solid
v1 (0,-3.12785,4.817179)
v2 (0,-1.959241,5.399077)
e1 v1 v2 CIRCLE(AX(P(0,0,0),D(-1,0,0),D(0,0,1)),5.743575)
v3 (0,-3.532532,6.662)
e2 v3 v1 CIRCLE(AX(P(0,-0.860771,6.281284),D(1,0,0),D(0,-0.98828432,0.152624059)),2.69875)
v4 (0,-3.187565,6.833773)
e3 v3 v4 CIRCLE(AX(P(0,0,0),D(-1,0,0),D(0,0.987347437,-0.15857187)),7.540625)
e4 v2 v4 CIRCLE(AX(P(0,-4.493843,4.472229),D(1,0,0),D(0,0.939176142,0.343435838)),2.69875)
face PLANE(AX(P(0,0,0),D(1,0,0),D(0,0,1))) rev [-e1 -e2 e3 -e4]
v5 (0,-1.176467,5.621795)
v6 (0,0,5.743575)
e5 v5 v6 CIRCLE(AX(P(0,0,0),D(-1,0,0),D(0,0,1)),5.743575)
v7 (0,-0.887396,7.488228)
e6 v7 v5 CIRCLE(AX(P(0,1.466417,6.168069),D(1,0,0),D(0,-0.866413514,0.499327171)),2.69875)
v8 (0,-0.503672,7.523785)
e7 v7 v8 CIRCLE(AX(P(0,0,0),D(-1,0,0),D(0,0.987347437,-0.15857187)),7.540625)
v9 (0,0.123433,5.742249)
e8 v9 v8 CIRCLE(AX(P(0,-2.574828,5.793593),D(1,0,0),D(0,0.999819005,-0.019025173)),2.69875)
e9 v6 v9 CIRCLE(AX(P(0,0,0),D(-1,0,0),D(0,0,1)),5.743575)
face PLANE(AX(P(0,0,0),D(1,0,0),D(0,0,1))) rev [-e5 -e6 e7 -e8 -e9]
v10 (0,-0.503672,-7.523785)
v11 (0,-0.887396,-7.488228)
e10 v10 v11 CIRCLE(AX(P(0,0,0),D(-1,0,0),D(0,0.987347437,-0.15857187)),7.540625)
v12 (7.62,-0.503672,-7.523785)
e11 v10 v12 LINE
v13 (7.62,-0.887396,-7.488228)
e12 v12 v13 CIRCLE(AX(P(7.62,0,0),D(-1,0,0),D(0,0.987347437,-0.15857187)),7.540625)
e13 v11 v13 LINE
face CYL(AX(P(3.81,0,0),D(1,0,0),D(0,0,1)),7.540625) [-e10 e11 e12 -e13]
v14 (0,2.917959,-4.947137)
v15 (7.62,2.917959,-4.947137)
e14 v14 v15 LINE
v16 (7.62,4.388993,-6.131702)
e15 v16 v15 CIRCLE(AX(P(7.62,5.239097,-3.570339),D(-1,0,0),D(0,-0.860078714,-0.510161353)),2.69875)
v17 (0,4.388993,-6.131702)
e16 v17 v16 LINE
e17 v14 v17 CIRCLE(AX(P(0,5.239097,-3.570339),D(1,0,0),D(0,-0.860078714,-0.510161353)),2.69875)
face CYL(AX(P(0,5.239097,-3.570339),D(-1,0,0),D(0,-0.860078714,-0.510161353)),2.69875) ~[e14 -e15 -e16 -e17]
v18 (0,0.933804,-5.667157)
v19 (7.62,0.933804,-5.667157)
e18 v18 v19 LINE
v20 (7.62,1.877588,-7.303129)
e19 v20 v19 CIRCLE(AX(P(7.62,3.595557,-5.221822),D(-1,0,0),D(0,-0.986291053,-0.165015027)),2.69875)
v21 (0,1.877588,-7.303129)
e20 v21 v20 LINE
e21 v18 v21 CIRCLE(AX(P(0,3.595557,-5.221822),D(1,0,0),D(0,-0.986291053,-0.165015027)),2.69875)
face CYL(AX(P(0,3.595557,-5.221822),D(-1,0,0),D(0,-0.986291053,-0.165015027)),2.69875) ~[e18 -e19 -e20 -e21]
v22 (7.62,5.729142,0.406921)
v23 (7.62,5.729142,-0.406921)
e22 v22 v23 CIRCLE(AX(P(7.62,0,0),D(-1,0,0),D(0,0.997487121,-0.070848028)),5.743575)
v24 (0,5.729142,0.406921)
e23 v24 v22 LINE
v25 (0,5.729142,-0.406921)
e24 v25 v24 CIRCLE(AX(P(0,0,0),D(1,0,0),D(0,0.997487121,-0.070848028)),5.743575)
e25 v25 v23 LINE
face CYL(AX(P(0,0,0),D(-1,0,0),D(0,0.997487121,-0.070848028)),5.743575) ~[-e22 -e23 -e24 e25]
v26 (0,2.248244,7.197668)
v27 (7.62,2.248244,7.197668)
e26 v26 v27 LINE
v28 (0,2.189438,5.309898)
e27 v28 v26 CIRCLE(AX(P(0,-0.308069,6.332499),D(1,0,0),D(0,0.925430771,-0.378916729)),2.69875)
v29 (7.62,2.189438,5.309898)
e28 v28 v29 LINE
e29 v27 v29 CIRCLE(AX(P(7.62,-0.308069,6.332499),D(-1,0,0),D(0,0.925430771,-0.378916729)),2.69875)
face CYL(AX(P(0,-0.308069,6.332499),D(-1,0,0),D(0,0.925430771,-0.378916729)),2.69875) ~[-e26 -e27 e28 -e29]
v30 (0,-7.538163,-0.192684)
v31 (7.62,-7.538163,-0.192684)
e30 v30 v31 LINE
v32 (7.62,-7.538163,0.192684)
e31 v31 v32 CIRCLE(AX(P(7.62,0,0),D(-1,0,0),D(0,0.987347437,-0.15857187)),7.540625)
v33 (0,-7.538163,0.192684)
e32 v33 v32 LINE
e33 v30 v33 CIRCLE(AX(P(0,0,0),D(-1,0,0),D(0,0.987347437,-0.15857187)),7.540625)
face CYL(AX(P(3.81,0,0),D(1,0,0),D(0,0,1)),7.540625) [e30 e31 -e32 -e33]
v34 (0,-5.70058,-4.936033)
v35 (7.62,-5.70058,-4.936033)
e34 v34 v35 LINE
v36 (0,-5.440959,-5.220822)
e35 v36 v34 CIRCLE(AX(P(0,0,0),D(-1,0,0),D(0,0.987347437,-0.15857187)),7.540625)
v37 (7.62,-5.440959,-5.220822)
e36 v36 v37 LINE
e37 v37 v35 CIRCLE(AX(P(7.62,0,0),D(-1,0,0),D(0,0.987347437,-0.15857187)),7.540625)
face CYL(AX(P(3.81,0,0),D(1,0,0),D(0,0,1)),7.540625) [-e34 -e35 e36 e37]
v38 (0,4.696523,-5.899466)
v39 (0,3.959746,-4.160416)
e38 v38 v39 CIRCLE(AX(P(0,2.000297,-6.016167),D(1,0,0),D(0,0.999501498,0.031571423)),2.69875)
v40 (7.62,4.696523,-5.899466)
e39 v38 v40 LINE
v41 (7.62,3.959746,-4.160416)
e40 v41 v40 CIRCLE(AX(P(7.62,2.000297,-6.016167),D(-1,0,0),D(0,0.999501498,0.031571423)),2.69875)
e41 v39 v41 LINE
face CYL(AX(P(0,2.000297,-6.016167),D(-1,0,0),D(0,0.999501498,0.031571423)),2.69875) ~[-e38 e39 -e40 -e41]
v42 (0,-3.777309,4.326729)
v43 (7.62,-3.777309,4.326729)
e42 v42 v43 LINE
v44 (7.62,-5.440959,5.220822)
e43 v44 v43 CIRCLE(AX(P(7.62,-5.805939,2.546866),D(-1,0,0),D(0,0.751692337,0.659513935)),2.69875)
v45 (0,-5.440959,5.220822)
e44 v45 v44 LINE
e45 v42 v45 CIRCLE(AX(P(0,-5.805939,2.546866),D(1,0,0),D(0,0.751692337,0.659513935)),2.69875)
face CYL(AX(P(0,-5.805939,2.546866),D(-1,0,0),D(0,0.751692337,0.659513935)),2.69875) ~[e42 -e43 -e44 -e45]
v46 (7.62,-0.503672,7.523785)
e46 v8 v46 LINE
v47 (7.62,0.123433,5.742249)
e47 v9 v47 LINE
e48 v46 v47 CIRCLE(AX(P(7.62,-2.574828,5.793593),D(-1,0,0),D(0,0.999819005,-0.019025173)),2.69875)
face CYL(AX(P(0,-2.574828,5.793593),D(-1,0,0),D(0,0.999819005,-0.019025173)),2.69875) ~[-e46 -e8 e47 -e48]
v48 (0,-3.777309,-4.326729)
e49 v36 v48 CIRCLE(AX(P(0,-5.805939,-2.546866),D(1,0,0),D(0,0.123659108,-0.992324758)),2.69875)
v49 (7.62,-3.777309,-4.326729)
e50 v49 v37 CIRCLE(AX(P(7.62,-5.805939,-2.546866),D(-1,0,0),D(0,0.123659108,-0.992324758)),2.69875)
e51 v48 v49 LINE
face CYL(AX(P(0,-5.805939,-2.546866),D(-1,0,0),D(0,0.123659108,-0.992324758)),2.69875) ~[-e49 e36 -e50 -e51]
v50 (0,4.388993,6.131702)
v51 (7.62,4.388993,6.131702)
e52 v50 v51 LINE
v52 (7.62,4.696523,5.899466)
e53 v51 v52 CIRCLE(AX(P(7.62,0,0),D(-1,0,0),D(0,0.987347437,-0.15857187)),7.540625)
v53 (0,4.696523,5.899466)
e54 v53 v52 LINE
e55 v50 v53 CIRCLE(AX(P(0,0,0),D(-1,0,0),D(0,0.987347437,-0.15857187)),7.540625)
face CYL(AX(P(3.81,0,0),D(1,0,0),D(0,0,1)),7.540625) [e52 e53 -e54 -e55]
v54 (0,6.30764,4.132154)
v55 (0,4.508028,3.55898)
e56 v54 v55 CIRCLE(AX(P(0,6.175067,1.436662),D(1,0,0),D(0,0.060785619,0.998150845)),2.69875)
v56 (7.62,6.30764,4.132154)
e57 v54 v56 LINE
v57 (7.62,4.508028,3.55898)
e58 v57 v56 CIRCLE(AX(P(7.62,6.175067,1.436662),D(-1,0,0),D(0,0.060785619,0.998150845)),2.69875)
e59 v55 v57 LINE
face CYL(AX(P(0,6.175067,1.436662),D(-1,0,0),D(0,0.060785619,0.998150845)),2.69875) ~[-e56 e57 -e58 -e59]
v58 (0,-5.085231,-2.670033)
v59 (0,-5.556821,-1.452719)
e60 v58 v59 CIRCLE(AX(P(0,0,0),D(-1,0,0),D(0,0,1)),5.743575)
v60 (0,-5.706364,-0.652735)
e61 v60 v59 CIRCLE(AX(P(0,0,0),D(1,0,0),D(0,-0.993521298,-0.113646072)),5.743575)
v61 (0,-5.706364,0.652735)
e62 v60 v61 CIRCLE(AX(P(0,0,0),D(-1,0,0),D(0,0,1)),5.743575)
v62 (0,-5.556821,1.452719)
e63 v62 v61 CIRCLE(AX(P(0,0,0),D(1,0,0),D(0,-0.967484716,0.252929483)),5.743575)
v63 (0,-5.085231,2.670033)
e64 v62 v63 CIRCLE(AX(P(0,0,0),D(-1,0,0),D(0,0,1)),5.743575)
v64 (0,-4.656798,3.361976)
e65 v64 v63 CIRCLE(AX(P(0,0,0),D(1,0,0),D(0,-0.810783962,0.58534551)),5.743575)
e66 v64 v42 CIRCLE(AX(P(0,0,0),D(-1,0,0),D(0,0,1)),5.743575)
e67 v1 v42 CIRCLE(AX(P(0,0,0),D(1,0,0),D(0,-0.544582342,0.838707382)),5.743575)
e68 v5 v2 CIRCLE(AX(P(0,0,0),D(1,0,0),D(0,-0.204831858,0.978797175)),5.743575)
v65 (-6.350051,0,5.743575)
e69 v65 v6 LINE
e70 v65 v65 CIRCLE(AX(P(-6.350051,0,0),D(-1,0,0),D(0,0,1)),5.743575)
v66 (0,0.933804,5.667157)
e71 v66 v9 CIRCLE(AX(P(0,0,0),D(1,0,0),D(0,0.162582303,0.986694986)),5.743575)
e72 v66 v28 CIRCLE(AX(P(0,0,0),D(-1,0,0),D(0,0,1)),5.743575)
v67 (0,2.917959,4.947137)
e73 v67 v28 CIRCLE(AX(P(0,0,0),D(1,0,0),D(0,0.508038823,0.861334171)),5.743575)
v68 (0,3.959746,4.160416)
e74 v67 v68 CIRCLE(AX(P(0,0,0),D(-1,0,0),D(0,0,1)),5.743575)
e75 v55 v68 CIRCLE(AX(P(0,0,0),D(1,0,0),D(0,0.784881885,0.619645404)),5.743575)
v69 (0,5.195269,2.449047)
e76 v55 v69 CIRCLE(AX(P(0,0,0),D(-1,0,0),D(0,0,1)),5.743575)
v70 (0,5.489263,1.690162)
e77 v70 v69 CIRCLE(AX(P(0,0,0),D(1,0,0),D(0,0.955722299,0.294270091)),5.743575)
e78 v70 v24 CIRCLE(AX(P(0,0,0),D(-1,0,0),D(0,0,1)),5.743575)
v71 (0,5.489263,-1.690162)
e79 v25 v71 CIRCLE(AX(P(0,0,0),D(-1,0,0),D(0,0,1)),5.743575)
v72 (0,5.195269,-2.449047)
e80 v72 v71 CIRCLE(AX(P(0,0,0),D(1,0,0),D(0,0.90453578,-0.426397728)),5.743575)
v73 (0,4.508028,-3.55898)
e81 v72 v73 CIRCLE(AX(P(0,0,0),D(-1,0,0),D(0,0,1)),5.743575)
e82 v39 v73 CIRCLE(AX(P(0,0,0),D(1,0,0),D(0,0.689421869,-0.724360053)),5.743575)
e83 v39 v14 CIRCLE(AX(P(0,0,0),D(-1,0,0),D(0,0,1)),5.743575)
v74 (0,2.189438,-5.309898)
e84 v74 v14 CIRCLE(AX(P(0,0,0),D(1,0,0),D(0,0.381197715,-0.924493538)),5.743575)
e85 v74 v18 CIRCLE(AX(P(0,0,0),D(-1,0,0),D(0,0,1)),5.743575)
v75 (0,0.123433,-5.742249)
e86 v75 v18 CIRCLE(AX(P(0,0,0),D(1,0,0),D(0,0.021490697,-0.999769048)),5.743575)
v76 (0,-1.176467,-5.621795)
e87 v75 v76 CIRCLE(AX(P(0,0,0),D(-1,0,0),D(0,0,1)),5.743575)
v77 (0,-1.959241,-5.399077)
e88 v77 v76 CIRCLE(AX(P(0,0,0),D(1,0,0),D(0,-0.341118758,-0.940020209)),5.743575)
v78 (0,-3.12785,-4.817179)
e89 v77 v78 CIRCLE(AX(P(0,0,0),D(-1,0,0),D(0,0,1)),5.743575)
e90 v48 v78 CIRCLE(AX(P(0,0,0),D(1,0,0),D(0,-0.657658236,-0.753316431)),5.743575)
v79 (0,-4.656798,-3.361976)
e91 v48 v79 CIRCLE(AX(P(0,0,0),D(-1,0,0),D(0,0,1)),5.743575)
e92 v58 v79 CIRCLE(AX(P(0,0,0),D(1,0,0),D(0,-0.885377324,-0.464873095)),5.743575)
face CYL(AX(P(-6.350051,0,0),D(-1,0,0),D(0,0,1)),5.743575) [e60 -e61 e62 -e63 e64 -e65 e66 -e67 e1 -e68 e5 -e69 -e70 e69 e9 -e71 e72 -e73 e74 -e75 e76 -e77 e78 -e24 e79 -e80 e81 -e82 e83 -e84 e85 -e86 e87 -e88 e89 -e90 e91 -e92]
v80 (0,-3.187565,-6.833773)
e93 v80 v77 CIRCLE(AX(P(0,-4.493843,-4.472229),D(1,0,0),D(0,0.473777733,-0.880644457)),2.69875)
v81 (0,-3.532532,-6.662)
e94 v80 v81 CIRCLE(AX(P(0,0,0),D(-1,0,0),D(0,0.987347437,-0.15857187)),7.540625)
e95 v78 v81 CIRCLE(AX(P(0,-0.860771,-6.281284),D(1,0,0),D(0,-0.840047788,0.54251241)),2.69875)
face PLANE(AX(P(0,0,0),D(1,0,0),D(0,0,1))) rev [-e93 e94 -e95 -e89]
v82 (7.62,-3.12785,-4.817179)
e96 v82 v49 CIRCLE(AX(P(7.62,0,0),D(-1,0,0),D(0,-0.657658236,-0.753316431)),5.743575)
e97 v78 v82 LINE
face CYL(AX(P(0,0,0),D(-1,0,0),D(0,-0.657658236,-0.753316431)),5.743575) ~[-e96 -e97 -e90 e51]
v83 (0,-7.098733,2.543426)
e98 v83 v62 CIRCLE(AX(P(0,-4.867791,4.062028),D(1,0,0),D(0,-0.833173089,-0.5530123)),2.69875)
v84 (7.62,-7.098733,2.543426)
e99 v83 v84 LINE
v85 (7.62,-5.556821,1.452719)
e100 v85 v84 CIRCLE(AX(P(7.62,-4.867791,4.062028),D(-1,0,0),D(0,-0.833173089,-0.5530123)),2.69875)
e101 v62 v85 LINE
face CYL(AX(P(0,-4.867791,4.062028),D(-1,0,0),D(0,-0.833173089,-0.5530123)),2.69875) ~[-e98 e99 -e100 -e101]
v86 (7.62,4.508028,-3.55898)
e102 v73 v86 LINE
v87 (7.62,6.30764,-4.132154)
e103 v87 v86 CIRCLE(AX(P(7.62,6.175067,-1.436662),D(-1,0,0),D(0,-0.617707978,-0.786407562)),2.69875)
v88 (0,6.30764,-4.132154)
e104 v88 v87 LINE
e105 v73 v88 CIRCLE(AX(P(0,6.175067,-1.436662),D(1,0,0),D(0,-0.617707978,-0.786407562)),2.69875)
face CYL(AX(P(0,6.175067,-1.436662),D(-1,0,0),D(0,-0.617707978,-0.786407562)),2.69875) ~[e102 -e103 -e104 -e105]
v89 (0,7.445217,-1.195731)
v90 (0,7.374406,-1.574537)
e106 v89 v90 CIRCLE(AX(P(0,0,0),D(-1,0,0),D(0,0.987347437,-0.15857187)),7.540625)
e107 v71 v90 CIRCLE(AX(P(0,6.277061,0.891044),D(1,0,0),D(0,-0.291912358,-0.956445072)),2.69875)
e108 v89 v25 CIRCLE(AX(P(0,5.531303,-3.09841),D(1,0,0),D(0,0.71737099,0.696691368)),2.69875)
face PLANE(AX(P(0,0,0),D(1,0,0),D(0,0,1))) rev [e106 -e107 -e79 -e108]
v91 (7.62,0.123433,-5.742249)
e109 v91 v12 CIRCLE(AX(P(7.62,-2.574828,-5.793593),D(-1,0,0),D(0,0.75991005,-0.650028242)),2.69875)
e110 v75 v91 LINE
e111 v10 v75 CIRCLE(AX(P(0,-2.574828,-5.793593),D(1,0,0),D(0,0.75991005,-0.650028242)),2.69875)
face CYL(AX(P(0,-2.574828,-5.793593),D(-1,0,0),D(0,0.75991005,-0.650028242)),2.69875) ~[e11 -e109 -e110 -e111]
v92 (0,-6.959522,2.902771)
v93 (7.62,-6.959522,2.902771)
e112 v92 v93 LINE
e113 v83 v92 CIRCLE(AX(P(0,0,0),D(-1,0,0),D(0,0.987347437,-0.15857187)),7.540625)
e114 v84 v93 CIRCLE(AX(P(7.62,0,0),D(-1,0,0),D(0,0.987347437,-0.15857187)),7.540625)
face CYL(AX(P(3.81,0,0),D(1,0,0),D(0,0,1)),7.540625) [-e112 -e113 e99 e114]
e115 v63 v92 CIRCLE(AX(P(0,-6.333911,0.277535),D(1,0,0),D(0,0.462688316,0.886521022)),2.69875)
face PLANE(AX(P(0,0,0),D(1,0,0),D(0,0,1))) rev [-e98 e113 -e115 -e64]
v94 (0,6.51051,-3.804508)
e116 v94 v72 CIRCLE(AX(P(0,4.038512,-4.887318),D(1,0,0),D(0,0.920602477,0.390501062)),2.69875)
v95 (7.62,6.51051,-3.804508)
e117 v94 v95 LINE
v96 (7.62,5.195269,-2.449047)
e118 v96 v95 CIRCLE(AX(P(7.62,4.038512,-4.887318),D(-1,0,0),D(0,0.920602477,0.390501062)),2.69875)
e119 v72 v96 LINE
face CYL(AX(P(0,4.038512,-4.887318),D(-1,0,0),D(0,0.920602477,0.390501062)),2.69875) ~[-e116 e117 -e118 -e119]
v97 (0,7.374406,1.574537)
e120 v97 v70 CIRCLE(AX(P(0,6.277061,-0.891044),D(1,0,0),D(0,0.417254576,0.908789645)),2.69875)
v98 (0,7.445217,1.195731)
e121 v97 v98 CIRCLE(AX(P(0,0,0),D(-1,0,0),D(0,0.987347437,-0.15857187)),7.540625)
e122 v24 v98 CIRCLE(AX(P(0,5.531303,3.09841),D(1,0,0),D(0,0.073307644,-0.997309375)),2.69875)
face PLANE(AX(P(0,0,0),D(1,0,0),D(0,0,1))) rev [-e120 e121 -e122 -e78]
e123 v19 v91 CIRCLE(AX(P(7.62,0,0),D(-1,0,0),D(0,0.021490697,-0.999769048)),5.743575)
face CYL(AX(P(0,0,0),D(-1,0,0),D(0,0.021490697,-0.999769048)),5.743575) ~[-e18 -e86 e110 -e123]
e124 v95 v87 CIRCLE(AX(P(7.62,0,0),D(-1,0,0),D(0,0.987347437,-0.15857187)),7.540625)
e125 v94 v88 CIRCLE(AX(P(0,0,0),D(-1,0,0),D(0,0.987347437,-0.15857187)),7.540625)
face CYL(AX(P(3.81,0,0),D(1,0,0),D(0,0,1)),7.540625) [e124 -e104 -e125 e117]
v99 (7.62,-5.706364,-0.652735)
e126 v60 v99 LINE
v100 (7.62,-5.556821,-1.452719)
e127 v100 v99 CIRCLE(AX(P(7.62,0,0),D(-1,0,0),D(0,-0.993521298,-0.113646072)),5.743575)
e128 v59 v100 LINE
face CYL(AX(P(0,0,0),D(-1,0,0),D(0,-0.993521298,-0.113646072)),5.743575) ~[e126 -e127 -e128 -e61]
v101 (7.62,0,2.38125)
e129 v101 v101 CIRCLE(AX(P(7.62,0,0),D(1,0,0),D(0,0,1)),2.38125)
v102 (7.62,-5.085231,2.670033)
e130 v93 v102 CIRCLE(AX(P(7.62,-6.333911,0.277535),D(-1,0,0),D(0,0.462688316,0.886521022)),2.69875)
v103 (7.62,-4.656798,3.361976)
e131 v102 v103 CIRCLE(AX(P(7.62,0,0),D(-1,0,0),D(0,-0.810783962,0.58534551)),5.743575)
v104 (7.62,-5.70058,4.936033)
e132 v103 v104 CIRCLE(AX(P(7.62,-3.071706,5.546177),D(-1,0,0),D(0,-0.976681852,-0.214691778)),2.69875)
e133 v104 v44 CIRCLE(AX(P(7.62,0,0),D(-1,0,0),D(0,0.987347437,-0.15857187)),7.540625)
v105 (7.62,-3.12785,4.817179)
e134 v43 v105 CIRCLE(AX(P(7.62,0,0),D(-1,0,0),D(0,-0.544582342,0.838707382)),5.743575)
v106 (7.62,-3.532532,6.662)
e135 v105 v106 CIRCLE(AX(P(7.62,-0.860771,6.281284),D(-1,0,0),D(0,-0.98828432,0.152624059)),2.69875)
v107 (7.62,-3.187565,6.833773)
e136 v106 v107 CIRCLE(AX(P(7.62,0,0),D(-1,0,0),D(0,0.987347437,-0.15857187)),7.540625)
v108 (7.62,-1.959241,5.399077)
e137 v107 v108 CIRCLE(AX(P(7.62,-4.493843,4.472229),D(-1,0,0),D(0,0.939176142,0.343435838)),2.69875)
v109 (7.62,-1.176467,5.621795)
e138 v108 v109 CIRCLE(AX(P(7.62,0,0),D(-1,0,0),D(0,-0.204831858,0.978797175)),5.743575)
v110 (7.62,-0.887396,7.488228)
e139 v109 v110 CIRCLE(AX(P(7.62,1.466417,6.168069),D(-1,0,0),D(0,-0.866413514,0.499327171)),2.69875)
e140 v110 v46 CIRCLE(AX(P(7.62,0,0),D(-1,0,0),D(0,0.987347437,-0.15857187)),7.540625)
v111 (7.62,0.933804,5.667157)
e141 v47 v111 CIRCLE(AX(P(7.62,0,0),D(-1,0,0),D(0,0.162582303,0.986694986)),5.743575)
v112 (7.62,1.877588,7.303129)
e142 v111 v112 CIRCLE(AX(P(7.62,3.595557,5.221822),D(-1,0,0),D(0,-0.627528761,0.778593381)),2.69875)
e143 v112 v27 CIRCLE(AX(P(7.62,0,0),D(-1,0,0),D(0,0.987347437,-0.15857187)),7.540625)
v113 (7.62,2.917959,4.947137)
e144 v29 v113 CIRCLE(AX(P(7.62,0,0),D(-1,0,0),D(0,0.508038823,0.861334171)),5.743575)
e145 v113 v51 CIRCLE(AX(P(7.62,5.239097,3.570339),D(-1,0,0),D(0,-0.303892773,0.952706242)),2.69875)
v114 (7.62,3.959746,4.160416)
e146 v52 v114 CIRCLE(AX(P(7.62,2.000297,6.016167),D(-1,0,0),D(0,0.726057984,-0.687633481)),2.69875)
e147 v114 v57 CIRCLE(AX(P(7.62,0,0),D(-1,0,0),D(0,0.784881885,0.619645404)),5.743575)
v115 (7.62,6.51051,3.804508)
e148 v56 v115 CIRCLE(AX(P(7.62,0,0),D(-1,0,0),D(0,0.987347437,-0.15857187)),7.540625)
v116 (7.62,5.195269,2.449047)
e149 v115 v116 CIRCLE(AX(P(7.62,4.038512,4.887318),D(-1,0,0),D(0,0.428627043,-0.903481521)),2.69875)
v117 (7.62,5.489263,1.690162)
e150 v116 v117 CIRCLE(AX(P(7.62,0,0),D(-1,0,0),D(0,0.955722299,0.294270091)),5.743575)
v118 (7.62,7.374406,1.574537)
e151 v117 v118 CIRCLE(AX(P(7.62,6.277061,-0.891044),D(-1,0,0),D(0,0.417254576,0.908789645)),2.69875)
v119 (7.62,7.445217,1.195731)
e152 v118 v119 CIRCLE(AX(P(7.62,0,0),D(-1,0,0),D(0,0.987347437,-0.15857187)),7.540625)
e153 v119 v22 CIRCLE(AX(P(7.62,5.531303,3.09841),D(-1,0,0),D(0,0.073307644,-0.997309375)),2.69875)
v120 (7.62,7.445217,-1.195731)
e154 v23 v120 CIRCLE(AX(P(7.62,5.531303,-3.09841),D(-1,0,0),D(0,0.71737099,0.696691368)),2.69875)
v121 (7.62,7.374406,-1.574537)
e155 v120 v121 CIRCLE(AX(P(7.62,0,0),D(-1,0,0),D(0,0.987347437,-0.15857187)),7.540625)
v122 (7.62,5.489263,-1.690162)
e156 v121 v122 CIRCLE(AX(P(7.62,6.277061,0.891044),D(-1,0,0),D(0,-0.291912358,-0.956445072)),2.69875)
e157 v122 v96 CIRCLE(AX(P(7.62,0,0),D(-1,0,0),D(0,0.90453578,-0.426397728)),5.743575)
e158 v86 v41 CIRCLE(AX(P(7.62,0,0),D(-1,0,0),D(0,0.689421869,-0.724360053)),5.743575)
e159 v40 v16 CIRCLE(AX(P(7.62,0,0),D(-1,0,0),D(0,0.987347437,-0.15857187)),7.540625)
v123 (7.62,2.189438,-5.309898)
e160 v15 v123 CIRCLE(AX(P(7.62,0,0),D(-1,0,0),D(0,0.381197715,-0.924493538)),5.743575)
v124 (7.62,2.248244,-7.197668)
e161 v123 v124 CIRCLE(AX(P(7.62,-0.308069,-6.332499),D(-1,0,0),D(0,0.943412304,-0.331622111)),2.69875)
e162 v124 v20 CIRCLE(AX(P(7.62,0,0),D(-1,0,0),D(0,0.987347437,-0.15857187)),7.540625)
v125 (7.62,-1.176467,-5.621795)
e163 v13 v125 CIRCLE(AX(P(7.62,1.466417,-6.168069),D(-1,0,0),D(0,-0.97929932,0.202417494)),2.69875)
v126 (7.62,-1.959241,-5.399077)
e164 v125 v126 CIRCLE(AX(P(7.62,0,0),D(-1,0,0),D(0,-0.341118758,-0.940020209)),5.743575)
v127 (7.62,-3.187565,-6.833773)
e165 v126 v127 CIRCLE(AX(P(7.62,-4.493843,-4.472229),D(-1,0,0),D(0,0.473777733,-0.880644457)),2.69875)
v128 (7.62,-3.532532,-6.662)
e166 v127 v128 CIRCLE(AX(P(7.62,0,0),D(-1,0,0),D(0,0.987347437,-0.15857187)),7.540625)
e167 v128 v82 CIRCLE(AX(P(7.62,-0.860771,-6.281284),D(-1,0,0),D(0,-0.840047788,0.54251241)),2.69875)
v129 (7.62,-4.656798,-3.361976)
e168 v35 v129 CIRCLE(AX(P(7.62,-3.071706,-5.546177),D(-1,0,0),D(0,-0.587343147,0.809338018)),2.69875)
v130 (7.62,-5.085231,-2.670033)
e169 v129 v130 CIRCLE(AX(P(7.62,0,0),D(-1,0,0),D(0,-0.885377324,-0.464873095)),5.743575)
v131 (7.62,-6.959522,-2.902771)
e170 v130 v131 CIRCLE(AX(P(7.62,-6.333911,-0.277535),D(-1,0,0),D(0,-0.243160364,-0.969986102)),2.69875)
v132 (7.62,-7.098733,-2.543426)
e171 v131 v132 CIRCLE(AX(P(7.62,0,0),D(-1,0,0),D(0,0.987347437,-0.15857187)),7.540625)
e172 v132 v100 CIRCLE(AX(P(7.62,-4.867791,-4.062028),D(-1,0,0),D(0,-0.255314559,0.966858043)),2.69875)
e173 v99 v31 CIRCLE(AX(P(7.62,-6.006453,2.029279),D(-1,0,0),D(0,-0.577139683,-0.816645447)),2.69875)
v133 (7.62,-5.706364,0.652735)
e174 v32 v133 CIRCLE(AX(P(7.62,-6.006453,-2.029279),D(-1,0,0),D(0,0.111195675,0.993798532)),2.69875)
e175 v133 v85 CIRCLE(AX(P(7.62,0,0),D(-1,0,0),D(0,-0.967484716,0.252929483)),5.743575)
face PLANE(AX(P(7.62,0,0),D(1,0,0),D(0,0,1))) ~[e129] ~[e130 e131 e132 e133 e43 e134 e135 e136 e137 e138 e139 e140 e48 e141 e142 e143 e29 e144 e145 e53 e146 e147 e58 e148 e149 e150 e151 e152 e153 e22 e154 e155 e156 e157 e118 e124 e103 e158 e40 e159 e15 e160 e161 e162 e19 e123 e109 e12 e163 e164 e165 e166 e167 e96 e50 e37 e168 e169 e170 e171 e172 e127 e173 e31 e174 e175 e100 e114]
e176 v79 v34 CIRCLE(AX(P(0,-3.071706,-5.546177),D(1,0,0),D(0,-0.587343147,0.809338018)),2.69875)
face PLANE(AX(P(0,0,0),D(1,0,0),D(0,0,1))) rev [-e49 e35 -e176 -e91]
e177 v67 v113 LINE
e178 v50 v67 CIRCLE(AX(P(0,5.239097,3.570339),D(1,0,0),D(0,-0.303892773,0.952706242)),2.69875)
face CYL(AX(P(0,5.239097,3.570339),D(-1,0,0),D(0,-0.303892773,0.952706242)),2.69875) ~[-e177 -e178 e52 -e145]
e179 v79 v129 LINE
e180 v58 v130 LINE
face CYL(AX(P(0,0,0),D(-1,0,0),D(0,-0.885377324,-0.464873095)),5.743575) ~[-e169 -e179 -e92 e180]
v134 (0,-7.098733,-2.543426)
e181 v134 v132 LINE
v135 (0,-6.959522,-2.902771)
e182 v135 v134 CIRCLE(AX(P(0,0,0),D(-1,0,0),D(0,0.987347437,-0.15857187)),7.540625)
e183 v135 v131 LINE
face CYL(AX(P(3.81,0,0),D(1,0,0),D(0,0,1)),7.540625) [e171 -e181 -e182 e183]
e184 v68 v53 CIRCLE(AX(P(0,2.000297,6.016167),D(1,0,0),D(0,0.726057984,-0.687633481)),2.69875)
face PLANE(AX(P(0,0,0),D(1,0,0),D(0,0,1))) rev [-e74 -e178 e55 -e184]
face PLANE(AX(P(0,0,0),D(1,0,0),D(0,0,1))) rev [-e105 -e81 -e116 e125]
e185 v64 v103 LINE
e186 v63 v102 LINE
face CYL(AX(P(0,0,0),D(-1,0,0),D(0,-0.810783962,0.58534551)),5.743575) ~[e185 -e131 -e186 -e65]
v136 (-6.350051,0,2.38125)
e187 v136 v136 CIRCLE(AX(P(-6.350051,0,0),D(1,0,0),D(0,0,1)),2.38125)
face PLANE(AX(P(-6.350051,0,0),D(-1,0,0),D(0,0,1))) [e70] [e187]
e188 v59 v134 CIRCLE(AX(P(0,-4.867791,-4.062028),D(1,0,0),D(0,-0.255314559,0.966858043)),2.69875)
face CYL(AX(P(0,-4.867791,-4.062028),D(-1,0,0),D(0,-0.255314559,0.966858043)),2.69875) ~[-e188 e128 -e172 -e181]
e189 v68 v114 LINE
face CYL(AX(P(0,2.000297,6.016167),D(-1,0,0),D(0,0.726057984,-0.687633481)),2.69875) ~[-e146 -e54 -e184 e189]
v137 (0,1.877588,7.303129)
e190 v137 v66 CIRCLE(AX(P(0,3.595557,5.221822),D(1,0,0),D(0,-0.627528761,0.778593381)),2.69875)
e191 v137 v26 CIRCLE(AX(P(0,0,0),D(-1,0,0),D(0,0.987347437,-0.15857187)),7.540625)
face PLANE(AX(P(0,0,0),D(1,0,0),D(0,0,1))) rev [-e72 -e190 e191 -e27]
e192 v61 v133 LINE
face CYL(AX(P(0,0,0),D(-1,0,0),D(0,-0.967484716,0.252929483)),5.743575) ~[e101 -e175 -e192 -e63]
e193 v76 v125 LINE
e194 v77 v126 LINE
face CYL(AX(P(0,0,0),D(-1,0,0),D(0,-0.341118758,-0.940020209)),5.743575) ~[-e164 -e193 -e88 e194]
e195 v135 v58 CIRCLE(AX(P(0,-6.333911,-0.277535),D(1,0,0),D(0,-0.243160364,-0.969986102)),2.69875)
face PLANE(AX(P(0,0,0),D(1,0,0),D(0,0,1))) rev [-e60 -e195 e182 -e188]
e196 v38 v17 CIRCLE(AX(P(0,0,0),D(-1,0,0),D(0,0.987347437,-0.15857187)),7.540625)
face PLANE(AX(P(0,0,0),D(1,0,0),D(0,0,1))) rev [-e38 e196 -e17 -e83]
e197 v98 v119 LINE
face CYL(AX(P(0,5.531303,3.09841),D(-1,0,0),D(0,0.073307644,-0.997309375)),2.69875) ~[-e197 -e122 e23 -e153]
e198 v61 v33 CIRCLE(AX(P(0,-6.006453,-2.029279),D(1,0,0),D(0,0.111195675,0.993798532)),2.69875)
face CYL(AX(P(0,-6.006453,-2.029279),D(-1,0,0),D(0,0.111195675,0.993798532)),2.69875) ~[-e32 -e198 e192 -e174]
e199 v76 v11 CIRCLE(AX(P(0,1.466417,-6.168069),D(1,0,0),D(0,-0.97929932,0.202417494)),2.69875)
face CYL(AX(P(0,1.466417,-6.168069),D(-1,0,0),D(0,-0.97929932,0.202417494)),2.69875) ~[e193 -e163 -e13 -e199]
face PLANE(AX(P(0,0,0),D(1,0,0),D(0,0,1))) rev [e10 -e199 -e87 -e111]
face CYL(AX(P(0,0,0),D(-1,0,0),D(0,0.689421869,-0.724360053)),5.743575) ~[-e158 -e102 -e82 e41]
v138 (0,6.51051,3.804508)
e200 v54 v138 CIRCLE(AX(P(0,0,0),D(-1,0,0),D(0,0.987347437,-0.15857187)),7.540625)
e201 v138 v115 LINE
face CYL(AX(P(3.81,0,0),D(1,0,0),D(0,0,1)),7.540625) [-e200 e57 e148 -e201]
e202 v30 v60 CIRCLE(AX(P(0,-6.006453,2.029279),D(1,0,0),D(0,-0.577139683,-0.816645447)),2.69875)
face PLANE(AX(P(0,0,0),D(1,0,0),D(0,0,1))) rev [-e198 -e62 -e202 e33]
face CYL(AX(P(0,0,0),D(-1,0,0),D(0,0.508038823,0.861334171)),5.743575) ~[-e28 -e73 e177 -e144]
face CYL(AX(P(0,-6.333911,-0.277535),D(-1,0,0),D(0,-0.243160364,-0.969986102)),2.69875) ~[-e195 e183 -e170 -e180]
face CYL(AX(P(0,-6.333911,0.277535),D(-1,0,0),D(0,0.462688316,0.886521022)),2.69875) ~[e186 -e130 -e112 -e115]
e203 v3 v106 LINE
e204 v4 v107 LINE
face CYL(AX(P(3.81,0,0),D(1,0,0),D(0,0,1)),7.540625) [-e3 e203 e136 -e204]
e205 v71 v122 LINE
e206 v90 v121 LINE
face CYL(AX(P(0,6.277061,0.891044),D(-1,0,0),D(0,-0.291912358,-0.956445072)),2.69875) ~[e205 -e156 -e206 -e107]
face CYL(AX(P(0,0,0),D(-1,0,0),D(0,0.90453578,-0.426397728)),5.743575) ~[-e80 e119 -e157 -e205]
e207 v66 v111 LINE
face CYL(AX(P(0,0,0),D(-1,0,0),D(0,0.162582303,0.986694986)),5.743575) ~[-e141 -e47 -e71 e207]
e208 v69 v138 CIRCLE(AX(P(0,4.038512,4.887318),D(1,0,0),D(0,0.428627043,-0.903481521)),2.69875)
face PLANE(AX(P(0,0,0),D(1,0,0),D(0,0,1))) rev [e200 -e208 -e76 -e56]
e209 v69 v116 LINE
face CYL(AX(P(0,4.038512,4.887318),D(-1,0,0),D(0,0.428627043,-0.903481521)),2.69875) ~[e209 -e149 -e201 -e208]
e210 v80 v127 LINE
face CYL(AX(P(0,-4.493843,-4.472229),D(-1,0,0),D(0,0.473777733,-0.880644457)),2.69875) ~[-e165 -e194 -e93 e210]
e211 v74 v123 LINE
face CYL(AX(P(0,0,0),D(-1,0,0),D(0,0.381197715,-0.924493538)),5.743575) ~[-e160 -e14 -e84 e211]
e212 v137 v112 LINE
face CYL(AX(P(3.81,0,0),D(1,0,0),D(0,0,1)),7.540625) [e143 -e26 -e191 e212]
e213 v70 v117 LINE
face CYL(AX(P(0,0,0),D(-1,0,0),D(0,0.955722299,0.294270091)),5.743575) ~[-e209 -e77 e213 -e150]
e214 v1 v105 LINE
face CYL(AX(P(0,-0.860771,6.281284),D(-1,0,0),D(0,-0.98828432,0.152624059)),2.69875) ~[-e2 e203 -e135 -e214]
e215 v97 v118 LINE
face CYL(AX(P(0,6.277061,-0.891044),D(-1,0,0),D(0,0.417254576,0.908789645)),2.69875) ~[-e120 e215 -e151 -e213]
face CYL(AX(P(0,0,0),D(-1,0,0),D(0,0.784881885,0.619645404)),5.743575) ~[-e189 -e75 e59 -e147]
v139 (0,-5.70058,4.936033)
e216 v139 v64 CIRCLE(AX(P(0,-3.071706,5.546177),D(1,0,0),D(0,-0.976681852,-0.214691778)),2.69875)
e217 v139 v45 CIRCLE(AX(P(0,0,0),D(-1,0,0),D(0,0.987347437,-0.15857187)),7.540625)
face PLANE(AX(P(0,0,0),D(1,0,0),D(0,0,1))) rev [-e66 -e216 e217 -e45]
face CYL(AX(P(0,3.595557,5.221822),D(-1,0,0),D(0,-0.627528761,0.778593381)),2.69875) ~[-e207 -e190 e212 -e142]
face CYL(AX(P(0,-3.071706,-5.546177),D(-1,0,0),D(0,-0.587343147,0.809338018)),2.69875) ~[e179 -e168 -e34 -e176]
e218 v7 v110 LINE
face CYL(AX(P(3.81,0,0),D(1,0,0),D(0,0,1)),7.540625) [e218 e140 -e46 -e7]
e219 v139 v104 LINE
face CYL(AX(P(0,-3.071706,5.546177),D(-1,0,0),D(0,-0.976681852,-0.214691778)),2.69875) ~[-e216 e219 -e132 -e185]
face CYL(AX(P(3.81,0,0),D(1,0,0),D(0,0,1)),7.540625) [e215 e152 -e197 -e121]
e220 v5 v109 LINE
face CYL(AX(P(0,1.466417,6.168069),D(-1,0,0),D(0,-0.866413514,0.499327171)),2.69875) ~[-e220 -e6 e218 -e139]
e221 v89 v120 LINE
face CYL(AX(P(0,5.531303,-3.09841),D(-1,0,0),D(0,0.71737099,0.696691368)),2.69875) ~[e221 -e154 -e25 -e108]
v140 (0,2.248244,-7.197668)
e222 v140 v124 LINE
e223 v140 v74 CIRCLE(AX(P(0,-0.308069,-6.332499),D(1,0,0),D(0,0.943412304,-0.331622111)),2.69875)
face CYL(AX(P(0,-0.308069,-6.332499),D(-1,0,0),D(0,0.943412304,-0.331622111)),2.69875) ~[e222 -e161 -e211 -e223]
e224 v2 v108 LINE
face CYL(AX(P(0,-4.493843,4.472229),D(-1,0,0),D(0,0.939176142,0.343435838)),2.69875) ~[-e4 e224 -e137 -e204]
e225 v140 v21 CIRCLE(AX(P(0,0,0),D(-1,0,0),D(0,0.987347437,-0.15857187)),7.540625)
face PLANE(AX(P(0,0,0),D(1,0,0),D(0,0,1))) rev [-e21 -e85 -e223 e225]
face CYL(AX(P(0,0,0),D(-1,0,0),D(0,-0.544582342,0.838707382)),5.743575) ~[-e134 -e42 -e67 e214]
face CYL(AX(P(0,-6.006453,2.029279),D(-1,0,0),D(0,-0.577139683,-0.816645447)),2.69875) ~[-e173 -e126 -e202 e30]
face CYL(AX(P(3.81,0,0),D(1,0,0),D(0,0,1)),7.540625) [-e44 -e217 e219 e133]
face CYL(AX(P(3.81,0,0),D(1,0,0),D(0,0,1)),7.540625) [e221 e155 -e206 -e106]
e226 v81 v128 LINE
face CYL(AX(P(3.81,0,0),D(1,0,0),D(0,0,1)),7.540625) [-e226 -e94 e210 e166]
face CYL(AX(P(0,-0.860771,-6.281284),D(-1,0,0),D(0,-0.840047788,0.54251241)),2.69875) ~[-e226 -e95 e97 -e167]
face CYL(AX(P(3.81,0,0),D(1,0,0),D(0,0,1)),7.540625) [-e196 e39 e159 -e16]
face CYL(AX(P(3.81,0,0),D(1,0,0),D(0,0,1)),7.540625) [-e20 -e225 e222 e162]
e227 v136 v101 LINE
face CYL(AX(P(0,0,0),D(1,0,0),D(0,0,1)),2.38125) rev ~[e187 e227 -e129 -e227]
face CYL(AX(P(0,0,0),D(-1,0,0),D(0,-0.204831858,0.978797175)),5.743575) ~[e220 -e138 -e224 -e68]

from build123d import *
from build123d.topology import SkipClean

# Parameters (mm, degrees)
BASPROSKE_W      = 7.62
BASPROSKE_H      = 7.540625
TOOTHCUT_DEPTH   = 14.106733032
TEETHCUTS_COUNT  = 17
TEETHCUTS_ANGLE  = 338.823529412
HUBNEARONE_START = 6.3500508
HUBNEAONESKE_R   = 5.743575
HUBNEARONE_DEPTH = 6.3500508
BORSKE_R         = 2.38125
BORE_DEPTH       = 13.9700508


with BuildPart() as part:
    # BasProSke → Base-Revolve (revolve)
    with BuildSketch(Plane(origin=(0, 0, 0), x_dir=(1, 0, 0), z_dir=(0, 1, 0)), mode=Mode.PRIVATE) as base_revolve_sk:
        with Locations((3.81, 3.7703125)):
            Rectangle(BASPROSKE_W, BASPROSKE_H)
    revolve(base_revolve_sk.sketch.rotate(Axis((-10, 0, 0), (1, 0, 0)), 180), axis=Axis((-10, 0, 0), (1, 0, 0)))

    # TooCutSke → ToothCut (cut, through all)
    with BuildSketch(Plane(origin=(0, 0, 0), x_dir=(0, 0, -1), z_dir=(1, 0, 0))):
        with BuildLine():
            ThreePointArc((0.406920963, 5.729142092), (0, 5.743575), (-0.406920963, 5.729142092))
            ThreePointArc((-0.406920963, 5.729142092), (-0.652928085, 6.672737068), (-1.218213807, 7.467308044))
            ThreePointArc((-1.218213807, 7.467308044), (0, 7.566025), (1.218213807, 7.467308044))
            ThreePointArc((1.218213807, 7.467308044), (0.652928085, 6.672737068), (0.406920963, 5.729142092))
        make_face()
    toothcut = extrude(amount=TOOTHCUT_DEPTH, mode=Mode.SUBTRACT)

    # TeethCuts: ToothCut ×17 about axis
    teethcuts_axis = Axis((-10, 0, 0), (1, 0, 0))
    for i in range(1, TEETHCUTS_COUNT):
        add(toothcut.rotate(teethcuts_axis, i * TEETHCUTS_ANGLE / (TEETHCUTS_COUNT - 1)), mode=Mode.SUBTRACT)

    # HubNeaOneSke → HubNearOne (add)
    with SkipClean():  # the faces are left unmerged after this step: merging them gives an invalid solid
        with BuildSketch(Plane.ZY.offset(HUBNEARONE_START)):
            Circle(HUBNEAONESKE_R)
        extrude(amount=-HUBNEARONE_DEPTH)

    # BorSke → Bore (cut, symmetric)
    with SkipClean():  # the faces are left unmerged after this step: merging them gives an invalid solid
        with BuildSketch(Plane(origin=(0, 0, 0), x_dir=(0, 0, -1), z_dir=(1, 0, 0))):
            with Locations(Location((0, 0, 0), (0, 0, 180))):
                Circle(BORSKE_R)
        extrude(amount=BORE_DEPTH, both=True, mode=Mode.SUBTRACT)


solid = part.part
